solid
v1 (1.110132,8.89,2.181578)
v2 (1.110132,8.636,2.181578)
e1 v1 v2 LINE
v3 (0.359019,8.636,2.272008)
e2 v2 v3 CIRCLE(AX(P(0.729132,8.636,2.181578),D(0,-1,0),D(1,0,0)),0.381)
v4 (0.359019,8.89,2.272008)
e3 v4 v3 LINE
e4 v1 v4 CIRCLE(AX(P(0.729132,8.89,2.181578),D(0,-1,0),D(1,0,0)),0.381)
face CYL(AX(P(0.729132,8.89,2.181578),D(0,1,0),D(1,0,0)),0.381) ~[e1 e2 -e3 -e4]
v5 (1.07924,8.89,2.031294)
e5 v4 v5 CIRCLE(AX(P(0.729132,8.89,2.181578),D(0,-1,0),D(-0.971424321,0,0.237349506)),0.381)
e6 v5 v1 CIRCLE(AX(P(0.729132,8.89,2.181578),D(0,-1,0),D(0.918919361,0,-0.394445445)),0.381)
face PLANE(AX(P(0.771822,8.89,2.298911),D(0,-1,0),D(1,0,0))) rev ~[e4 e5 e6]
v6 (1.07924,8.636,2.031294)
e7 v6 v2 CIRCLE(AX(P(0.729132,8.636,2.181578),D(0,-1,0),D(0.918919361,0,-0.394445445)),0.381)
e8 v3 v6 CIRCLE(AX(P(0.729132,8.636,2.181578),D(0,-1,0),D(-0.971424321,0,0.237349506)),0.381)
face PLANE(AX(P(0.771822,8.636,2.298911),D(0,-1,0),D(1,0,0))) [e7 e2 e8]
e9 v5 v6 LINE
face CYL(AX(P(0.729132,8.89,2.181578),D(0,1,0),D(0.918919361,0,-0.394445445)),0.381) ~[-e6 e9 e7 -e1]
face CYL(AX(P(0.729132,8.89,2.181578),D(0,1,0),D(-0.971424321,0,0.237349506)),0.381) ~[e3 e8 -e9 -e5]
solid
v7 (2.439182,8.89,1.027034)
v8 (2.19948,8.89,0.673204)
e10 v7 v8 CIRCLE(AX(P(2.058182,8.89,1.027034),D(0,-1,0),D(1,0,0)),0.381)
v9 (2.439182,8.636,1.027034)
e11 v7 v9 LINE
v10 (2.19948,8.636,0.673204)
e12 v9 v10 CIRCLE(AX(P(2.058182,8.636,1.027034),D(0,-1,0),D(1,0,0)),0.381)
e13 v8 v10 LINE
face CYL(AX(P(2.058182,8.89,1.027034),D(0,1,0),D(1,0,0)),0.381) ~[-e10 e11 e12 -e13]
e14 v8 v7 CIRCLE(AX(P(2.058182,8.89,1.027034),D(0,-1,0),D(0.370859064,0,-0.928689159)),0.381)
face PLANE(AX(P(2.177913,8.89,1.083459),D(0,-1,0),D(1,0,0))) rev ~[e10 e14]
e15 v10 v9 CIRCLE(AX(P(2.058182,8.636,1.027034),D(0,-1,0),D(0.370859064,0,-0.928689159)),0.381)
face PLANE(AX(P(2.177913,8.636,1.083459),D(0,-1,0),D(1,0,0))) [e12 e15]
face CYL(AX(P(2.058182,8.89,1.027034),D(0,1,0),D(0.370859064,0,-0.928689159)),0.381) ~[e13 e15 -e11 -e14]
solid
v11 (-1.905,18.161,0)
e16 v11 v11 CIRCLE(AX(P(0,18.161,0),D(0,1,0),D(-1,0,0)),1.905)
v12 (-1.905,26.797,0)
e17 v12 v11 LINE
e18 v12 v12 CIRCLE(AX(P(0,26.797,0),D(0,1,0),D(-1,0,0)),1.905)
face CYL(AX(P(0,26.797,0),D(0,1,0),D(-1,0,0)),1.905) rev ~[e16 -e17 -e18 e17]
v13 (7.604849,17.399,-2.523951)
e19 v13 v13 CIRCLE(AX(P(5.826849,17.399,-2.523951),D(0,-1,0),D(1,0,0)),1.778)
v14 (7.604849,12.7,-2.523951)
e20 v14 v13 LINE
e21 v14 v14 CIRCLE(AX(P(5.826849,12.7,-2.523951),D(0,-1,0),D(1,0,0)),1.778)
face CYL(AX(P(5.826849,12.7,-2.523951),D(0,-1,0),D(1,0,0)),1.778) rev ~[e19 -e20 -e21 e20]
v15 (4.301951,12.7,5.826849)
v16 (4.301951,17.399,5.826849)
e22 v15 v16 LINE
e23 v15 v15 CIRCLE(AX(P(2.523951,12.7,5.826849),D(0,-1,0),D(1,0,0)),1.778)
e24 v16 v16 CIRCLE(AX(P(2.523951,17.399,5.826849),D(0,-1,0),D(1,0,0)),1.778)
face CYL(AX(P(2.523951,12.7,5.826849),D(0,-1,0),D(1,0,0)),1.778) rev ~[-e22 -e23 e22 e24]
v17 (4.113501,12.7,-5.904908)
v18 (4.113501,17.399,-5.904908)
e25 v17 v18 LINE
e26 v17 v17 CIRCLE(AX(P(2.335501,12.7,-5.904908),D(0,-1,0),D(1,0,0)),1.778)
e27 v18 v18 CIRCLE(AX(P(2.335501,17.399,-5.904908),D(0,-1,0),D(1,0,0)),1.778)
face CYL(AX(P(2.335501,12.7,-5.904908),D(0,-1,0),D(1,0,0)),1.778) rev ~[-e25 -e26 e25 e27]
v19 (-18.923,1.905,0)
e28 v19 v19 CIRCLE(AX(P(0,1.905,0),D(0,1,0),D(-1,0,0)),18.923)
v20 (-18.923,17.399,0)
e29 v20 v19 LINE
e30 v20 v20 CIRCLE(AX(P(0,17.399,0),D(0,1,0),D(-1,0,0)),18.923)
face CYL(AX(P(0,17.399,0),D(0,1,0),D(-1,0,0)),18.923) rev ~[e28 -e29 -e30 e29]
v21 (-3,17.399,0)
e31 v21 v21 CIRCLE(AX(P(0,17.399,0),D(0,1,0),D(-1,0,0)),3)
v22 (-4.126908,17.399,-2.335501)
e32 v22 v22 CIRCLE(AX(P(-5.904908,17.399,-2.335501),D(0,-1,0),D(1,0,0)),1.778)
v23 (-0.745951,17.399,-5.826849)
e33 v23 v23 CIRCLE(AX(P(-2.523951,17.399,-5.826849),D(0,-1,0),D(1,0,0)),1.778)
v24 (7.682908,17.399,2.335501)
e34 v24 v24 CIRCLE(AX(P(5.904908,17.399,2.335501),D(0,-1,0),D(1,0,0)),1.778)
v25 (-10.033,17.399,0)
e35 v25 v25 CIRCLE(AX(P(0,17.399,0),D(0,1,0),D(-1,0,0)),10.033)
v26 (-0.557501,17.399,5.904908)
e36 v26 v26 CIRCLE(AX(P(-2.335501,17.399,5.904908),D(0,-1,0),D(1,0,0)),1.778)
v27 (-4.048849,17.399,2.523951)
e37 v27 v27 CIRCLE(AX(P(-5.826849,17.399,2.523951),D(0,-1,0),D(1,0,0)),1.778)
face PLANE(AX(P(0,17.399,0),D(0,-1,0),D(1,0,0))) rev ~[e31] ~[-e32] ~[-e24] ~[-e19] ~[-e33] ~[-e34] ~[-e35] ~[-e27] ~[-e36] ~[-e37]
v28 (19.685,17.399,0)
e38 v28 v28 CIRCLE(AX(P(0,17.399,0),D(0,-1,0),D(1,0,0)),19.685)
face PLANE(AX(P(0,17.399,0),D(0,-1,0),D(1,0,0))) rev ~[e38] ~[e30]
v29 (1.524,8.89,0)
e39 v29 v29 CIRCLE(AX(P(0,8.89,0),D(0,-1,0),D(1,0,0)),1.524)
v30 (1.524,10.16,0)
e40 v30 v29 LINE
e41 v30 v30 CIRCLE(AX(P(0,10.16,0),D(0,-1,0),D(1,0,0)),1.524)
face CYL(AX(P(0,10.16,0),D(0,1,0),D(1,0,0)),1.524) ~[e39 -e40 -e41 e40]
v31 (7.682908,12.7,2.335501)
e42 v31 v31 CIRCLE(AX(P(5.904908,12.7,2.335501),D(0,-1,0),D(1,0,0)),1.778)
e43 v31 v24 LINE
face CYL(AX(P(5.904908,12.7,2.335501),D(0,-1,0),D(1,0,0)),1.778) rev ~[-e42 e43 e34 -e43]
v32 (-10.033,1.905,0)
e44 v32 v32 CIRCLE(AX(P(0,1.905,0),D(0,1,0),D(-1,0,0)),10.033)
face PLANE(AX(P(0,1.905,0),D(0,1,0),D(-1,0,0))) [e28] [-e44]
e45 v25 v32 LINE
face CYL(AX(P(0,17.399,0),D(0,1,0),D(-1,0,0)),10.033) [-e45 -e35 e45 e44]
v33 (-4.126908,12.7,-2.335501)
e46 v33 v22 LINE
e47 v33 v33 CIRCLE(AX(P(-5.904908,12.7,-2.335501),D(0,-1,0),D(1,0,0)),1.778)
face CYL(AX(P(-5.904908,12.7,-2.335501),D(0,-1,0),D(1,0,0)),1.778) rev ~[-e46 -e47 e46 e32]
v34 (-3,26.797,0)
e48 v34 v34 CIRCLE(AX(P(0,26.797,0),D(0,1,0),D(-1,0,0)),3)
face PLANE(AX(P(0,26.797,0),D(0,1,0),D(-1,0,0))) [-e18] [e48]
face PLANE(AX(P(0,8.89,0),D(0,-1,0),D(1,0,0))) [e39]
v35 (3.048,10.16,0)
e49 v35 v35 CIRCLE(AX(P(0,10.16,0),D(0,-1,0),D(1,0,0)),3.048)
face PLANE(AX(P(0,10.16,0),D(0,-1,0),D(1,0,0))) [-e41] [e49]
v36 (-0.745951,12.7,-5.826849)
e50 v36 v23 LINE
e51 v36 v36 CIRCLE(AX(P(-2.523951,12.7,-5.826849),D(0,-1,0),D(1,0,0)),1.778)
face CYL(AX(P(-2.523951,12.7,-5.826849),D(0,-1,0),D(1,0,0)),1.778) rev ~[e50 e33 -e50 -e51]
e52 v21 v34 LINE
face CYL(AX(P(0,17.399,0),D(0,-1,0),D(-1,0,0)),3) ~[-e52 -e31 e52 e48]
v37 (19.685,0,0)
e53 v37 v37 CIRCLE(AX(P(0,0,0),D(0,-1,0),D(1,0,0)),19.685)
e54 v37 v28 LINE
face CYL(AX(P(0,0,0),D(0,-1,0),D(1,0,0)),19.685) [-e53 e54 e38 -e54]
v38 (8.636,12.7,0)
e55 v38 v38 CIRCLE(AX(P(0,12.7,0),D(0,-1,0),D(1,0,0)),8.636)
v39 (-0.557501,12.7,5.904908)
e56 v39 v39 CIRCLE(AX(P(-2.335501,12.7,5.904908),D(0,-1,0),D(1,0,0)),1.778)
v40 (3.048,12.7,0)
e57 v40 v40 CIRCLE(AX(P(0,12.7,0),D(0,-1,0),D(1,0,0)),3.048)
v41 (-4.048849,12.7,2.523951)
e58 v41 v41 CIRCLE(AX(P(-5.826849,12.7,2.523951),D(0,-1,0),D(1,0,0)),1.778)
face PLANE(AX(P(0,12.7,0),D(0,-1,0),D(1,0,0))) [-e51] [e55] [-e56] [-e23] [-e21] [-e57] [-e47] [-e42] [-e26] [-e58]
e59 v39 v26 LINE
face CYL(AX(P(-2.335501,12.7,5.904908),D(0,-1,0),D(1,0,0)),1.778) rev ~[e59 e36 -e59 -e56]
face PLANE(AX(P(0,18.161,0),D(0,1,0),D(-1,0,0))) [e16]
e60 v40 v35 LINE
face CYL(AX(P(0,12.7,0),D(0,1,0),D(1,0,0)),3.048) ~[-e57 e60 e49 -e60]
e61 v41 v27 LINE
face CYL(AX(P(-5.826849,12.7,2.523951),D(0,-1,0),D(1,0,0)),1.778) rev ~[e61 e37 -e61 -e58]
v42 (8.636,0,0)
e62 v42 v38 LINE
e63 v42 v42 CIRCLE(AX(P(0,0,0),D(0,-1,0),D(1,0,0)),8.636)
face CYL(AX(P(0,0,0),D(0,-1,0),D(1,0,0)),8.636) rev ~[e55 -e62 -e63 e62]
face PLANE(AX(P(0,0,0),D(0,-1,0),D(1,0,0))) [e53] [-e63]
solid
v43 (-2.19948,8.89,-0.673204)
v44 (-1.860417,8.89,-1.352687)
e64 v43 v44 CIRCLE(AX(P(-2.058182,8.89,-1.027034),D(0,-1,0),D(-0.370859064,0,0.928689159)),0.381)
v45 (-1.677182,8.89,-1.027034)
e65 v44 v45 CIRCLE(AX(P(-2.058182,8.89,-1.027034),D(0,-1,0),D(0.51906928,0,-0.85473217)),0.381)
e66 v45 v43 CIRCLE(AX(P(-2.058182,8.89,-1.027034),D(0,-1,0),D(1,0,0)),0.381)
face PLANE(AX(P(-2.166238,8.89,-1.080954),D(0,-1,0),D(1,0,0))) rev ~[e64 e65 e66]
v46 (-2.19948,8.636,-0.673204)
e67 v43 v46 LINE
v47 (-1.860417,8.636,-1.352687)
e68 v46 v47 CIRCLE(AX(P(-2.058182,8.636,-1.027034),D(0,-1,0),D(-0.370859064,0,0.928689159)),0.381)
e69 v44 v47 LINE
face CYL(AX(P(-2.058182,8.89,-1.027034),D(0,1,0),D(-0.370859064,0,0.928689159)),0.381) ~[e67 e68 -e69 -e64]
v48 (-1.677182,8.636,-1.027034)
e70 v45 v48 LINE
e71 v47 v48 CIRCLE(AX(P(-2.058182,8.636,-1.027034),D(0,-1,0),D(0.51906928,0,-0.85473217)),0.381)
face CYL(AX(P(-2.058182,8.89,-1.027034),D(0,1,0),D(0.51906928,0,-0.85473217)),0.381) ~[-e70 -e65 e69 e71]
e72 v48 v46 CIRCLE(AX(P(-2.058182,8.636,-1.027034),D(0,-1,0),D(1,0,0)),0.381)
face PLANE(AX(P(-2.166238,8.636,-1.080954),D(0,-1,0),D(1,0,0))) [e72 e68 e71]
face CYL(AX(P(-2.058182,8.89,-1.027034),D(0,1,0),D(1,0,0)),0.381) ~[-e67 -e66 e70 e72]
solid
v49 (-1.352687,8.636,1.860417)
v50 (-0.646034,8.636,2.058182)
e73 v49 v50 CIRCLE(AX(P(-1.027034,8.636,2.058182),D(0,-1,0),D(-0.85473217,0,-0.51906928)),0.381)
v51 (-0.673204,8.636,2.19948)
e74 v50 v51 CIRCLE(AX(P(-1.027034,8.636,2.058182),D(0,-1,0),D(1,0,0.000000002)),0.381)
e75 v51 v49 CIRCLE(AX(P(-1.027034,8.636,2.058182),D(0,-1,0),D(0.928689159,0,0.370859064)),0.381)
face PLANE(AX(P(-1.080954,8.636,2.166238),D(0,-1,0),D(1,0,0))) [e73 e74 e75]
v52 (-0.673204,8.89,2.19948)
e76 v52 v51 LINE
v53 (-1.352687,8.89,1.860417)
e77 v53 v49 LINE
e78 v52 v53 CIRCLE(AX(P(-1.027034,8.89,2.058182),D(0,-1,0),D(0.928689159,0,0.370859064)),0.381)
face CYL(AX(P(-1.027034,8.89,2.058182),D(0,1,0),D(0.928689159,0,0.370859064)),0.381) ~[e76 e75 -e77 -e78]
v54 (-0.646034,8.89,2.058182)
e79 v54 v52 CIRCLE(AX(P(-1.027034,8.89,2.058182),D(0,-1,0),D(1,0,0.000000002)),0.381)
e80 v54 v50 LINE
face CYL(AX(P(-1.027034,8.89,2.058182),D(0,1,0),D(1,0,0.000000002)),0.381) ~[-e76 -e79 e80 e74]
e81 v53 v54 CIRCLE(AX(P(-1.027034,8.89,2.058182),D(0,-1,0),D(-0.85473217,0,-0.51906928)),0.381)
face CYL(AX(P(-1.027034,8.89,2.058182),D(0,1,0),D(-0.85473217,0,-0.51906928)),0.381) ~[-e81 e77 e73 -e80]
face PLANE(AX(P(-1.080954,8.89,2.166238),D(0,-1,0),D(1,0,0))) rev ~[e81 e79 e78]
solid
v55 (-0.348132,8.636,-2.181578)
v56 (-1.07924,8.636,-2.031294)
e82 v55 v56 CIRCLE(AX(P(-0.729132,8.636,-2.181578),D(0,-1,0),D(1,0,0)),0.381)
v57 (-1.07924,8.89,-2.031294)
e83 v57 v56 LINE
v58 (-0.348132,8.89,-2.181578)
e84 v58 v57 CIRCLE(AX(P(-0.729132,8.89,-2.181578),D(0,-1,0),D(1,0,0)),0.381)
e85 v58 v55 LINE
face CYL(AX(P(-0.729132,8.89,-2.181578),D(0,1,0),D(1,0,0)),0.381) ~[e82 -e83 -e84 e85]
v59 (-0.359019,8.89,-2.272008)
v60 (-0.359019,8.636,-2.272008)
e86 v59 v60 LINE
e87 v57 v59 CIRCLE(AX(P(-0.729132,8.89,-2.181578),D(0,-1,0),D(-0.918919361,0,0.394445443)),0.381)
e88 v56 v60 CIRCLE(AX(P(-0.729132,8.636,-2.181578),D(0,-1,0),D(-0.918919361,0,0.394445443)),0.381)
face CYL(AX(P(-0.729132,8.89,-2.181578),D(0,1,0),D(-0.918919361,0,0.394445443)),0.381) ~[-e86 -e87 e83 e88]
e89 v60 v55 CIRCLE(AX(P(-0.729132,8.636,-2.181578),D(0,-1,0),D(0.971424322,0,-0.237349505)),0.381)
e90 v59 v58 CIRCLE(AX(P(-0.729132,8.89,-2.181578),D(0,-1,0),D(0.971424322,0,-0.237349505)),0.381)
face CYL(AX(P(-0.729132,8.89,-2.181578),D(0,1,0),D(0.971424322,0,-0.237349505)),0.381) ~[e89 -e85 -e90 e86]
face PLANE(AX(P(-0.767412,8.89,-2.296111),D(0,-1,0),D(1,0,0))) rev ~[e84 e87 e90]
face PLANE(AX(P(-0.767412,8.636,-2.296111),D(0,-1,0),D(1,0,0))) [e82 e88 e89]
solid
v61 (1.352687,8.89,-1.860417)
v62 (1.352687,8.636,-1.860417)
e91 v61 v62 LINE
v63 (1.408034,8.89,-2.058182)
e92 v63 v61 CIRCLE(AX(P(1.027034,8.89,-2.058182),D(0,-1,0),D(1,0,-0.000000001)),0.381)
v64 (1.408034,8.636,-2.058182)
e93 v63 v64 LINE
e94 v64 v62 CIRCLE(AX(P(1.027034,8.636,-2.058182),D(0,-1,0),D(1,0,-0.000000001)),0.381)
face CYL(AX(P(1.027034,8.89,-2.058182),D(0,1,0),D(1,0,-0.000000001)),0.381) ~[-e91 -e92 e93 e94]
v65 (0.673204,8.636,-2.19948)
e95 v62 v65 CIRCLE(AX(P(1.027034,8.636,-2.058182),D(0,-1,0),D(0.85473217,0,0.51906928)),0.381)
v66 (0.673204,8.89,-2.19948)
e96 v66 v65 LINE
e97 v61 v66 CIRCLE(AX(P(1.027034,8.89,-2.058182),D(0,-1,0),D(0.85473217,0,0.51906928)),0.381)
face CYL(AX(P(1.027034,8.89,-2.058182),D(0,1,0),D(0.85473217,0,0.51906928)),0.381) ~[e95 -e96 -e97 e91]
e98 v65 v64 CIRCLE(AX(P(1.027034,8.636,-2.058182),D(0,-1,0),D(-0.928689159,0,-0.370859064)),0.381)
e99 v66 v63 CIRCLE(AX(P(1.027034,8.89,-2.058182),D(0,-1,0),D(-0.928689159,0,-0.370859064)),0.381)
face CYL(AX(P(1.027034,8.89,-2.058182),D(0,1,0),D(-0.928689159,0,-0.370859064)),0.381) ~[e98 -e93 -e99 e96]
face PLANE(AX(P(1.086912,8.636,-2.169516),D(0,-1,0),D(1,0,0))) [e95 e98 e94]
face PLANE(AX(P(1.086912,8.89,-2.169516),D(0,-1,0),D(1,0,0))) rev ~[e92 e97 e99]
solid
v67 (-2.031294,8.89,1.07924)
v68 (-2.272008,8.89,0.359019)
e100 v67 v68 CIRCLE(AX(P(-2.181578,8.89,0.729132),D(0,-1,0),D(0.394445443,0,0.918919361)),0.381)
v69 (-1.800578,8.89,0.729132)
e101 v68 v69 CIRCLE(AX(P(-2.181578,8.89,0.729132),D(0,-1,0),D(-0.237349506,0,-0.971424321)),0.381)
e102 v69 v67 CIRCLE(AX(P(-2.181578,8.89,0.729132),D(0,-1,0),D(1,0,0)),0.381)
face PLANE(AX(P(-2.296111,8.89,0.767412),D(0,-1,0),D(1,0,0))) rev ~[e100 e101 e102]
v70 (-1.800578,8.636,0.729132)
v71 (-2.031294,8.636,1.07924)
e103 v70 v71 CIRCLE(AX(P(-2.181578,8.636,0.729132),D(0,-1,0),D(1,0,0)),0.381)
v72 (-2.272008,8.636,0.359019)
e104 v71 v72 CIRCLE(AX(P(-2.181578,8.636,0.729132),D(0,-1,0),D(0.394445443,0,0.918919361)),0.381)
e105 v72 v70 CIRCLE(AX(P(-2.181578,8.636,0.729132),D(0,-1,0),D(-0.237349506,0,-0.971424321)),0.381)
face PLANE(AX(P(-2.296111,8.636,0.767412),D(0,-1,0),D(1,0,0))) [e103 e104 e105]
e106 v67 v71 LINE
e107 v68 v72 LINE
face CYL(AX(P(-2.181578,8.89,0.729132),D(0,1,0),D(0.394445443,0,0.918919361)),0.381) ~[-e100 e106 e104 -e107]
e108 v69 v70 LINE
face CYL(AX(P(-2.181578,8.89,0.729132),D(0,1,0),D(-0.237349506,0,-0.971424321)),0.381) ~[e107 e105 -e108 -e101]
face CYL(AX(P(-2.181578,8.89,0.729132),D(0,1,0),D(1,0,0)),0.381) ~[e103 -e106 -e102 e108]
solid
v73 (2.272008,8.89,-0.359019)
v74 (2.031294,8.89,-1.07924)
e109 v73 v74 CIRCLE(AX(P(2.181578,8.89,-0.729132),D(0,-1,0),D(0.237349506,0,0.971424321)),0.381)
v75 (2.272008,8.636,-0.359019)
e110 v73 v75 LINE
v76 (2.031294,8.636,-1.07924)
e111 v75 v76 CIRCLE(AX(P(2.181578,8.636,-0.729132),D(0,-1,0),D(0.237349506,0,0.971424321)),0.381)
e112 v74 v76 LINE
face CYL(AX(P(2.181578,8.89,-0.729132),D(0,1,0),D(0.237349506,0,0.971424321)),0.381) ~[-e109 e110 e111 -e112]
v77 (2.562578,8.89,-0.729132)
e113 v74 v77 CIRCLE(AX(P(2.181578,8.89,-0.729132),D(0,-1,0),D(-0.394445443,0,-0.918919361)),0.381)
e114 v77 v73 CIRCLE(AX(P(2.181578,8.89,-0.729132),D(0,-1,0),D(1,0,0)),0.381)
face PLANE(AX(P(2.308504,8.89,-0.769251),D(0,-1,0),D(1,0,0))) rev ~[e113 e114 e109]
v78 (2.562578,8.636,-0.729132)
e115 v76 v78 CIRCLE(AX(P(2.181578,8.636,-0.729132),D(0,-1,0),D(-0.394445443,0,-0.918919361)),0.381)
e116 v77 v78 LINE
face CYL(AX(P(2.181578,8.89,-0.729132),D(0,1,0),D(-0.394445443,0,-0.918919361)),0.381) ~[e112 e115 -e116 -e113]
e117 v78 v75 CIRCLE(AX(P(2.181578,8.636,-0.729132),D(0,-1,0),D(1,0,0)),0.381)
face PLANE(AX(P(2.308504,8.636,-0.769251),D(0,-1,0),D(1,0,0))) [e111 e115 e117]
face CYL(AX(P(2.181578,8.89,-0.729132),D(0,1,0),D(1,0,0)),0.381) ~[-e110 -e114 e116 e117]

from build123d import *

# Parameters (mm, degrees)
F0_R      = 19.685
F1_DEPTH  = 17.399
F2_R      = 7.62
F3_DEPTH  = 13.208
F4_DEPTH  = 16.51
F5_R      = 8.636
F6_DEPTH  = 12.7
F7_R      = 3.048
F8_DEPTH  = 2.54
F9_R      = 1.524
F10_DEPTH = 1.27
F12_DEPTH = 0.254
F13_R     = 1.778
F14_DEPTH = 25.4
F15_R     = 18.923
F15_R_2   = 10.033
F16_DEPTH = 15.494
F17_R     = 3
F18_DEPTH = 9.398
F19_R     = 1.905
F20_DEPTH = 8.636


with BuildPart() as f1:
    # F0 (on Front) → F1 (new body)
    with BuildSketch(Plane.XZ):
        Circle(F0_R)
    extrude(amount=-F1_DEPTH)

    # F2 (on Front) → F3 (cut)
    with BuildSketch(Plane.XZ):
        Circle(F2_R)
    extrude(amount=-F3_DEPTH, mode=Mode.SUBTRACT)

    # F0 (on Front) → F4 (join)
    with BuildSketch(Plane.XZ):
        Circle(F0_R)
    extrude(amount=-F4_DEPTH)

    # F5 (on face) → F6 (cut)
    with BuildSketch(Plane.XZ):
        Circle(F5_R)
    extrude(amount=-F6_DEPTH, mode=Mode.SUBTRACT)

    # F7 (on face) → F8 (join)
    with BuildSketch(Plane.XZ.offset(-12.7)):
        Circle(F7_R)
    extrude(amount=F8_DEPTH)

    # F9 (on face) → F10 (join)
    with BuildSketch(Plane.XZ.offset(-10.16)):
        Circle(F9_R)
    extrude(amount=F10_DEPTH)

    # F13 (on face) → F14 (cut)
    with BuildSketch(Plane.XZ.offset(-12.7)):
        with Locations((-2.3355014042, 5.9049075514)):
            Circle(F13_R)
        with Locations((-5.8268490523, 2.5239512915)):
            Circle(F13_R)
        with Locations((-5.9049075514, -2.3355014042)):
            Circle(F13_R)
        with Locations((-2.5239512915, -5.8268490523)):
            Circle(F13_R)
        with Locations((2.3355014042, -5.9049075514)):
            Circle(F13_R)
        with Locations((5.8268490523, -2.5239512915)):
            Circle(F13_R)
        with Locations((5.9049075514, 2.3355014042)):
            Circle(F13_R)
        with Locations((2.5239512915, 5.8268490523)):
            Circle(F13_R)
    extrude(amount=-F14_DEPTH, mode=Mode.SUBTRACT)

    # F15 (on face) → F16 (cut)
    with BuildSketch(Plane(origin=(0, 17.399, 0), x_dir=(-1, 0, 0), z_dir=(0, 1, 0))):
        Circle(F15_R)
        Circle(F15_R_2, mode=Mode.SUBTRACT)
    extrude(amount=-F16_DEPTH, mode=Mode.SUBTRACT)

    # F17 (on face) → F18 (join)
    with BuildSketch(Plane(origin=(0, 17.399, 0), x_dir=(-1, 0, 0), z_dir=(0, 1, 0))):
        Circle(F17_R)
    extrude(amount=F18_DEPTH)

    # F19 (on face) → F20 (cut)
    with BuildSketch(Plane(origin=(0, 26.797, 0), x_dir=(-1, 0, 0), z_dir=(0, 1, 0))):
        Circle(F19_R)
    extrude(amount=-F20_DEPTH, mode=Mode.SUBTRACT)


with BuildPart() as f12:
    # F11 (on face) → F12 (new body)
    with BuildSketch(Plane.XZ.offset(-8.89)):
        with BuildLine():
            ThreePointArc((1.8604168835, 1.3526871845), (2.0581822792, 1.0270342277), (2.1994795826, 0.673203658))
            ThreePointArc((2.1994795826, 0.673203658), (2.3736147384, 0.8133443503), (2.4391822792, 1.0270342277))
            ThreePointArc((2.4391822792, 1.0270342277), (2.2450142682, 1.3590806219), (1.8604168835, 1.3526871845))
        make_face()
        with BuildLine():
            ThreePointArc((1.8604168835, 1.3526871845), (1.7172693474, 0.8569184644), (2.1994795826, 0.673203658))
            ThreePointArc((2.1994795826, 0.673203658), (2.0581822792, 1.0270342277), (1.8604168835, 1.3526871845))
        make_face()
    extrude(amount=F12_DEPTH)


with BuildPart() as f12b:
    # F11 (on face) → F12, piece 2 (new body)
    with BuildSketch(Plane.XZ.offset(-8.89)):
        with BuildLine():
            ThreePointArc((0.3590191132, 2.2720076751), (0.7291317796, 2.1815775135), (1.0792400562, 2.0312937997))
            ThreePointArc((1.0792400562, 2.0312937997), (1.1023289483, 2.1048645856), (1.1101317796, 2.1815775135))
            ThreePointArc((1.1101317796, 2.1815775135), (0.7746733764, 2.5598458878), (0.3590191132, 2.2720076751))
        make_face()
        with BuildLine():
            ThreePointArc((0.3590191132, 2.2720076751), (0.6083599436, 1.8202256578), (1.0792400562, 2.0312937997))
            ThreePointArc((1.0792400562, 2.0312937997), (0.7291317796, 2.1815775135), (0.3590191132, 2.2720076751))
        make_face()
    extrude(amount=F12_DEPTH)


with BuildPart() as f12c:
    # F11 (on face) → F12, piece 3 (new body)
    with BuildSketch(Plane.XZ.offset(-8.89)):
        with BuildLine():
            ThreePointArc((-1.3526871845, 1.8604168835), (-1.0270342277, 2.0581822792), (-0.673203658, 2.1994795826))
            ThreePointArc((-0.673203658, 2.1994795826), (-1.1971499911, 2.399095211), (-1.3526871845, 1.8604168835))
        make_face()
        with BuildLine():
            ThreePointArc((-0.6460342277, 2.0581822792), (-0.6528882355, 2.1301251487), (-0.673203658, 2.1994795826))
            ThreePointArc((-0.673203658, 2.1994795826), (-1.0270342277, 2.0581822792), (-1.3526871845, 1.8604168835))
            ThreePointArc((-1.3526871845, 1.8604168835), (-0.9243521371, 1.6912798559), (-0.6460342277, 2.0581822792))
        make_face()
    extrude(amount=F12_DEPTH)


with BuildPart() as f12d:
    # F11 (on face) → F12, piece 4 (new body)
    with BuildSketch(Plane.XZ.offset(-8.89)):
        with BuildLine():
            ThreePointArc((-2.2720076751, 0.3590191132), (-2.1815775135, 0.7291317796), (-2.0312937997, 1.0792400562))
            ThreePointArc((-2.0312937997, 1.0792400562), (-2.5429293692, 0.8499036156), (-2.2720076751, 0.3590191132))
        make_face()
        with BuildLine():
            ThreePointArc((-1.8005775135, 0.7291317796), (-1.8634430333, 0.9387777968), (-2.0312937997, 1.0792400562))
            ThreePointArc((-2.0312937997, 1.0792400562), (-2.1815775135, 0.7291317796), (-2.2720076751, 0.3590191132))
            ThreePointArc((-2.2720076751, 0.3590191132), (-1.9463041529, 0.4294528751), (-1.8005775135, 0.7291317796))
        make_face()
    extrude(amount=F12_DEPTH)


with BuildPart() as f12e:
    # F11 (on face) → F12, piece 5 (new body)
    with BuildSketch(Plane.XZ.offset(-8.89)):
        with BuildLine():
            ThreePointArc((-2.1994795826, -0.673203658), (-2.399095211, -1.1971499911), (-1.8604168835, -1.3526871845))
            ThreePointArc((-1.8604168835, -1.3526871845), (-2.0581822792, -1.0270342277), (-2.1994795826, -0.673203658))
        make_face()
        with BuildLine():
            ThreePointArc((-2.1994795826, -0.673203658), (-2.0581822792, -1.0270342277), (-1.8604168835, -1.3526871845))
            ThreePointArc((-1.8604168835, -1.3526871845), (-1.726135885, -1.2138662167), (-1.6771822792, -1.0270342277))
            ThreePointArc((-1.6771822792, -1.0270342277), (-1.8444924018, -0.7116017686), (-2.1994795826, -0.673203658))
        make_face()
    extrude(amount=F12_DEPTH)


with BuildPart() as f12f:
    # F11 (on face) → F12, piece 6 (new body)
    with BuildSketch(Plane.XZ.offset(-8.89)):
        with BuildLine():
            ThreePointArc((-1.0792400562, -2.0312937997), (-0.8499036156, -2.5429293692), (-0.3590191132, -2.2720076751))
            ThreePointArc((-0.3590191132, -2.2720076751), (-0.7291317796, -2.1815775135), (-1.0792400562, -2.0312937997))
        make_face()
        with BuildLine():
            ThreePointArc((-1.0792400562, -2.0312937997), (-0.7291317796, -2.1815775135), (-0.3590191132, -2.2720076751))
            ThreePointArc((-0.3590191132, -2.2720076751), (-0.3508634054, -2.2271191103), (-0.3481317796, -2.1815775135))
            ThreePointArc((-0.3481317796, -2.1815775135), (-0.6524188517, -1.8083803448), (-1.0792400562, -2.0312937997))
        make_face()
    extrude(amount=F12_DEPTH)


with BuildPart() as f12g:
    # F11 (on face) → F12, piece 7 (new body)
    with BuildSketch(Plane.XZ.offset(-8.89)):
        with BuildLine():
            ThreePointArc((1.4080342277, -2.0581822792), (1.3939366511, -1.9555001886), (1.3526871845, -1.8604168835))
            ThreePointArc((1.3526871845, -1.8604168835), (1.0270342277, -2.0581822792), (0.673203658, -2.1994795826))
            ThreePointArc((0.673203658, -2.1994795826), (1.0989770972, -2.4323282715), (1.4080342277, -2.0581822792))
        make_face()
        with BuildLine():
            ThreePointArc((0.673203658, -2.1994795826), (1.0270342277, -2.0581822792), (1.3526871845, -1.8604168835))
            ThreePointArc((1.3526871845, -1.8604168835), (0.8569184644, -1.7172693474), (0.673203658, -2.1994795826))
        make_face()
    extrude(amount=F12_DEPTH)


with BuildPart() as f12h:
    # F11 (on face) → F12, piece 8 (new body)
    with BuildSketch(Plane.XZ.offset(-8.89)):
        with BuildLine():
            ThreePointArc((2.5625775135, -0.7291317796), (2.481256418, -0.493858419), (2.2720076751, -0.3590191132))
            ThreePointArc((2.2720076751, -0.3590191132), (2.1815775135, -0.7291317796), (2.0312937997, -1.0792400562))
            ThreePointArc((2.0312937997, -1.0792400562), (2.3912235307, -1.0472662598), (2.5625775135, -0.7291317796))
        make_face()
        with BuildLine():
            ThreePointArc((2.0312937997, -1.0792400562), (2.1815775135, -0.7291317796), (2.2720076751, -0.3590191132))
            ThreePointArc((2.2720076751, -0.3590191132), (1.8202256578, -0.6083599436), (2.0312937997, -1.0792400562))
        make_face()
    extrude(amount=F12_DEPTH)


solid = Compound([f1.part, f12.part, f12b.part, f12c.part, f12d.part, f12e.part, f12f.part, f12g.part, f12h.part])
